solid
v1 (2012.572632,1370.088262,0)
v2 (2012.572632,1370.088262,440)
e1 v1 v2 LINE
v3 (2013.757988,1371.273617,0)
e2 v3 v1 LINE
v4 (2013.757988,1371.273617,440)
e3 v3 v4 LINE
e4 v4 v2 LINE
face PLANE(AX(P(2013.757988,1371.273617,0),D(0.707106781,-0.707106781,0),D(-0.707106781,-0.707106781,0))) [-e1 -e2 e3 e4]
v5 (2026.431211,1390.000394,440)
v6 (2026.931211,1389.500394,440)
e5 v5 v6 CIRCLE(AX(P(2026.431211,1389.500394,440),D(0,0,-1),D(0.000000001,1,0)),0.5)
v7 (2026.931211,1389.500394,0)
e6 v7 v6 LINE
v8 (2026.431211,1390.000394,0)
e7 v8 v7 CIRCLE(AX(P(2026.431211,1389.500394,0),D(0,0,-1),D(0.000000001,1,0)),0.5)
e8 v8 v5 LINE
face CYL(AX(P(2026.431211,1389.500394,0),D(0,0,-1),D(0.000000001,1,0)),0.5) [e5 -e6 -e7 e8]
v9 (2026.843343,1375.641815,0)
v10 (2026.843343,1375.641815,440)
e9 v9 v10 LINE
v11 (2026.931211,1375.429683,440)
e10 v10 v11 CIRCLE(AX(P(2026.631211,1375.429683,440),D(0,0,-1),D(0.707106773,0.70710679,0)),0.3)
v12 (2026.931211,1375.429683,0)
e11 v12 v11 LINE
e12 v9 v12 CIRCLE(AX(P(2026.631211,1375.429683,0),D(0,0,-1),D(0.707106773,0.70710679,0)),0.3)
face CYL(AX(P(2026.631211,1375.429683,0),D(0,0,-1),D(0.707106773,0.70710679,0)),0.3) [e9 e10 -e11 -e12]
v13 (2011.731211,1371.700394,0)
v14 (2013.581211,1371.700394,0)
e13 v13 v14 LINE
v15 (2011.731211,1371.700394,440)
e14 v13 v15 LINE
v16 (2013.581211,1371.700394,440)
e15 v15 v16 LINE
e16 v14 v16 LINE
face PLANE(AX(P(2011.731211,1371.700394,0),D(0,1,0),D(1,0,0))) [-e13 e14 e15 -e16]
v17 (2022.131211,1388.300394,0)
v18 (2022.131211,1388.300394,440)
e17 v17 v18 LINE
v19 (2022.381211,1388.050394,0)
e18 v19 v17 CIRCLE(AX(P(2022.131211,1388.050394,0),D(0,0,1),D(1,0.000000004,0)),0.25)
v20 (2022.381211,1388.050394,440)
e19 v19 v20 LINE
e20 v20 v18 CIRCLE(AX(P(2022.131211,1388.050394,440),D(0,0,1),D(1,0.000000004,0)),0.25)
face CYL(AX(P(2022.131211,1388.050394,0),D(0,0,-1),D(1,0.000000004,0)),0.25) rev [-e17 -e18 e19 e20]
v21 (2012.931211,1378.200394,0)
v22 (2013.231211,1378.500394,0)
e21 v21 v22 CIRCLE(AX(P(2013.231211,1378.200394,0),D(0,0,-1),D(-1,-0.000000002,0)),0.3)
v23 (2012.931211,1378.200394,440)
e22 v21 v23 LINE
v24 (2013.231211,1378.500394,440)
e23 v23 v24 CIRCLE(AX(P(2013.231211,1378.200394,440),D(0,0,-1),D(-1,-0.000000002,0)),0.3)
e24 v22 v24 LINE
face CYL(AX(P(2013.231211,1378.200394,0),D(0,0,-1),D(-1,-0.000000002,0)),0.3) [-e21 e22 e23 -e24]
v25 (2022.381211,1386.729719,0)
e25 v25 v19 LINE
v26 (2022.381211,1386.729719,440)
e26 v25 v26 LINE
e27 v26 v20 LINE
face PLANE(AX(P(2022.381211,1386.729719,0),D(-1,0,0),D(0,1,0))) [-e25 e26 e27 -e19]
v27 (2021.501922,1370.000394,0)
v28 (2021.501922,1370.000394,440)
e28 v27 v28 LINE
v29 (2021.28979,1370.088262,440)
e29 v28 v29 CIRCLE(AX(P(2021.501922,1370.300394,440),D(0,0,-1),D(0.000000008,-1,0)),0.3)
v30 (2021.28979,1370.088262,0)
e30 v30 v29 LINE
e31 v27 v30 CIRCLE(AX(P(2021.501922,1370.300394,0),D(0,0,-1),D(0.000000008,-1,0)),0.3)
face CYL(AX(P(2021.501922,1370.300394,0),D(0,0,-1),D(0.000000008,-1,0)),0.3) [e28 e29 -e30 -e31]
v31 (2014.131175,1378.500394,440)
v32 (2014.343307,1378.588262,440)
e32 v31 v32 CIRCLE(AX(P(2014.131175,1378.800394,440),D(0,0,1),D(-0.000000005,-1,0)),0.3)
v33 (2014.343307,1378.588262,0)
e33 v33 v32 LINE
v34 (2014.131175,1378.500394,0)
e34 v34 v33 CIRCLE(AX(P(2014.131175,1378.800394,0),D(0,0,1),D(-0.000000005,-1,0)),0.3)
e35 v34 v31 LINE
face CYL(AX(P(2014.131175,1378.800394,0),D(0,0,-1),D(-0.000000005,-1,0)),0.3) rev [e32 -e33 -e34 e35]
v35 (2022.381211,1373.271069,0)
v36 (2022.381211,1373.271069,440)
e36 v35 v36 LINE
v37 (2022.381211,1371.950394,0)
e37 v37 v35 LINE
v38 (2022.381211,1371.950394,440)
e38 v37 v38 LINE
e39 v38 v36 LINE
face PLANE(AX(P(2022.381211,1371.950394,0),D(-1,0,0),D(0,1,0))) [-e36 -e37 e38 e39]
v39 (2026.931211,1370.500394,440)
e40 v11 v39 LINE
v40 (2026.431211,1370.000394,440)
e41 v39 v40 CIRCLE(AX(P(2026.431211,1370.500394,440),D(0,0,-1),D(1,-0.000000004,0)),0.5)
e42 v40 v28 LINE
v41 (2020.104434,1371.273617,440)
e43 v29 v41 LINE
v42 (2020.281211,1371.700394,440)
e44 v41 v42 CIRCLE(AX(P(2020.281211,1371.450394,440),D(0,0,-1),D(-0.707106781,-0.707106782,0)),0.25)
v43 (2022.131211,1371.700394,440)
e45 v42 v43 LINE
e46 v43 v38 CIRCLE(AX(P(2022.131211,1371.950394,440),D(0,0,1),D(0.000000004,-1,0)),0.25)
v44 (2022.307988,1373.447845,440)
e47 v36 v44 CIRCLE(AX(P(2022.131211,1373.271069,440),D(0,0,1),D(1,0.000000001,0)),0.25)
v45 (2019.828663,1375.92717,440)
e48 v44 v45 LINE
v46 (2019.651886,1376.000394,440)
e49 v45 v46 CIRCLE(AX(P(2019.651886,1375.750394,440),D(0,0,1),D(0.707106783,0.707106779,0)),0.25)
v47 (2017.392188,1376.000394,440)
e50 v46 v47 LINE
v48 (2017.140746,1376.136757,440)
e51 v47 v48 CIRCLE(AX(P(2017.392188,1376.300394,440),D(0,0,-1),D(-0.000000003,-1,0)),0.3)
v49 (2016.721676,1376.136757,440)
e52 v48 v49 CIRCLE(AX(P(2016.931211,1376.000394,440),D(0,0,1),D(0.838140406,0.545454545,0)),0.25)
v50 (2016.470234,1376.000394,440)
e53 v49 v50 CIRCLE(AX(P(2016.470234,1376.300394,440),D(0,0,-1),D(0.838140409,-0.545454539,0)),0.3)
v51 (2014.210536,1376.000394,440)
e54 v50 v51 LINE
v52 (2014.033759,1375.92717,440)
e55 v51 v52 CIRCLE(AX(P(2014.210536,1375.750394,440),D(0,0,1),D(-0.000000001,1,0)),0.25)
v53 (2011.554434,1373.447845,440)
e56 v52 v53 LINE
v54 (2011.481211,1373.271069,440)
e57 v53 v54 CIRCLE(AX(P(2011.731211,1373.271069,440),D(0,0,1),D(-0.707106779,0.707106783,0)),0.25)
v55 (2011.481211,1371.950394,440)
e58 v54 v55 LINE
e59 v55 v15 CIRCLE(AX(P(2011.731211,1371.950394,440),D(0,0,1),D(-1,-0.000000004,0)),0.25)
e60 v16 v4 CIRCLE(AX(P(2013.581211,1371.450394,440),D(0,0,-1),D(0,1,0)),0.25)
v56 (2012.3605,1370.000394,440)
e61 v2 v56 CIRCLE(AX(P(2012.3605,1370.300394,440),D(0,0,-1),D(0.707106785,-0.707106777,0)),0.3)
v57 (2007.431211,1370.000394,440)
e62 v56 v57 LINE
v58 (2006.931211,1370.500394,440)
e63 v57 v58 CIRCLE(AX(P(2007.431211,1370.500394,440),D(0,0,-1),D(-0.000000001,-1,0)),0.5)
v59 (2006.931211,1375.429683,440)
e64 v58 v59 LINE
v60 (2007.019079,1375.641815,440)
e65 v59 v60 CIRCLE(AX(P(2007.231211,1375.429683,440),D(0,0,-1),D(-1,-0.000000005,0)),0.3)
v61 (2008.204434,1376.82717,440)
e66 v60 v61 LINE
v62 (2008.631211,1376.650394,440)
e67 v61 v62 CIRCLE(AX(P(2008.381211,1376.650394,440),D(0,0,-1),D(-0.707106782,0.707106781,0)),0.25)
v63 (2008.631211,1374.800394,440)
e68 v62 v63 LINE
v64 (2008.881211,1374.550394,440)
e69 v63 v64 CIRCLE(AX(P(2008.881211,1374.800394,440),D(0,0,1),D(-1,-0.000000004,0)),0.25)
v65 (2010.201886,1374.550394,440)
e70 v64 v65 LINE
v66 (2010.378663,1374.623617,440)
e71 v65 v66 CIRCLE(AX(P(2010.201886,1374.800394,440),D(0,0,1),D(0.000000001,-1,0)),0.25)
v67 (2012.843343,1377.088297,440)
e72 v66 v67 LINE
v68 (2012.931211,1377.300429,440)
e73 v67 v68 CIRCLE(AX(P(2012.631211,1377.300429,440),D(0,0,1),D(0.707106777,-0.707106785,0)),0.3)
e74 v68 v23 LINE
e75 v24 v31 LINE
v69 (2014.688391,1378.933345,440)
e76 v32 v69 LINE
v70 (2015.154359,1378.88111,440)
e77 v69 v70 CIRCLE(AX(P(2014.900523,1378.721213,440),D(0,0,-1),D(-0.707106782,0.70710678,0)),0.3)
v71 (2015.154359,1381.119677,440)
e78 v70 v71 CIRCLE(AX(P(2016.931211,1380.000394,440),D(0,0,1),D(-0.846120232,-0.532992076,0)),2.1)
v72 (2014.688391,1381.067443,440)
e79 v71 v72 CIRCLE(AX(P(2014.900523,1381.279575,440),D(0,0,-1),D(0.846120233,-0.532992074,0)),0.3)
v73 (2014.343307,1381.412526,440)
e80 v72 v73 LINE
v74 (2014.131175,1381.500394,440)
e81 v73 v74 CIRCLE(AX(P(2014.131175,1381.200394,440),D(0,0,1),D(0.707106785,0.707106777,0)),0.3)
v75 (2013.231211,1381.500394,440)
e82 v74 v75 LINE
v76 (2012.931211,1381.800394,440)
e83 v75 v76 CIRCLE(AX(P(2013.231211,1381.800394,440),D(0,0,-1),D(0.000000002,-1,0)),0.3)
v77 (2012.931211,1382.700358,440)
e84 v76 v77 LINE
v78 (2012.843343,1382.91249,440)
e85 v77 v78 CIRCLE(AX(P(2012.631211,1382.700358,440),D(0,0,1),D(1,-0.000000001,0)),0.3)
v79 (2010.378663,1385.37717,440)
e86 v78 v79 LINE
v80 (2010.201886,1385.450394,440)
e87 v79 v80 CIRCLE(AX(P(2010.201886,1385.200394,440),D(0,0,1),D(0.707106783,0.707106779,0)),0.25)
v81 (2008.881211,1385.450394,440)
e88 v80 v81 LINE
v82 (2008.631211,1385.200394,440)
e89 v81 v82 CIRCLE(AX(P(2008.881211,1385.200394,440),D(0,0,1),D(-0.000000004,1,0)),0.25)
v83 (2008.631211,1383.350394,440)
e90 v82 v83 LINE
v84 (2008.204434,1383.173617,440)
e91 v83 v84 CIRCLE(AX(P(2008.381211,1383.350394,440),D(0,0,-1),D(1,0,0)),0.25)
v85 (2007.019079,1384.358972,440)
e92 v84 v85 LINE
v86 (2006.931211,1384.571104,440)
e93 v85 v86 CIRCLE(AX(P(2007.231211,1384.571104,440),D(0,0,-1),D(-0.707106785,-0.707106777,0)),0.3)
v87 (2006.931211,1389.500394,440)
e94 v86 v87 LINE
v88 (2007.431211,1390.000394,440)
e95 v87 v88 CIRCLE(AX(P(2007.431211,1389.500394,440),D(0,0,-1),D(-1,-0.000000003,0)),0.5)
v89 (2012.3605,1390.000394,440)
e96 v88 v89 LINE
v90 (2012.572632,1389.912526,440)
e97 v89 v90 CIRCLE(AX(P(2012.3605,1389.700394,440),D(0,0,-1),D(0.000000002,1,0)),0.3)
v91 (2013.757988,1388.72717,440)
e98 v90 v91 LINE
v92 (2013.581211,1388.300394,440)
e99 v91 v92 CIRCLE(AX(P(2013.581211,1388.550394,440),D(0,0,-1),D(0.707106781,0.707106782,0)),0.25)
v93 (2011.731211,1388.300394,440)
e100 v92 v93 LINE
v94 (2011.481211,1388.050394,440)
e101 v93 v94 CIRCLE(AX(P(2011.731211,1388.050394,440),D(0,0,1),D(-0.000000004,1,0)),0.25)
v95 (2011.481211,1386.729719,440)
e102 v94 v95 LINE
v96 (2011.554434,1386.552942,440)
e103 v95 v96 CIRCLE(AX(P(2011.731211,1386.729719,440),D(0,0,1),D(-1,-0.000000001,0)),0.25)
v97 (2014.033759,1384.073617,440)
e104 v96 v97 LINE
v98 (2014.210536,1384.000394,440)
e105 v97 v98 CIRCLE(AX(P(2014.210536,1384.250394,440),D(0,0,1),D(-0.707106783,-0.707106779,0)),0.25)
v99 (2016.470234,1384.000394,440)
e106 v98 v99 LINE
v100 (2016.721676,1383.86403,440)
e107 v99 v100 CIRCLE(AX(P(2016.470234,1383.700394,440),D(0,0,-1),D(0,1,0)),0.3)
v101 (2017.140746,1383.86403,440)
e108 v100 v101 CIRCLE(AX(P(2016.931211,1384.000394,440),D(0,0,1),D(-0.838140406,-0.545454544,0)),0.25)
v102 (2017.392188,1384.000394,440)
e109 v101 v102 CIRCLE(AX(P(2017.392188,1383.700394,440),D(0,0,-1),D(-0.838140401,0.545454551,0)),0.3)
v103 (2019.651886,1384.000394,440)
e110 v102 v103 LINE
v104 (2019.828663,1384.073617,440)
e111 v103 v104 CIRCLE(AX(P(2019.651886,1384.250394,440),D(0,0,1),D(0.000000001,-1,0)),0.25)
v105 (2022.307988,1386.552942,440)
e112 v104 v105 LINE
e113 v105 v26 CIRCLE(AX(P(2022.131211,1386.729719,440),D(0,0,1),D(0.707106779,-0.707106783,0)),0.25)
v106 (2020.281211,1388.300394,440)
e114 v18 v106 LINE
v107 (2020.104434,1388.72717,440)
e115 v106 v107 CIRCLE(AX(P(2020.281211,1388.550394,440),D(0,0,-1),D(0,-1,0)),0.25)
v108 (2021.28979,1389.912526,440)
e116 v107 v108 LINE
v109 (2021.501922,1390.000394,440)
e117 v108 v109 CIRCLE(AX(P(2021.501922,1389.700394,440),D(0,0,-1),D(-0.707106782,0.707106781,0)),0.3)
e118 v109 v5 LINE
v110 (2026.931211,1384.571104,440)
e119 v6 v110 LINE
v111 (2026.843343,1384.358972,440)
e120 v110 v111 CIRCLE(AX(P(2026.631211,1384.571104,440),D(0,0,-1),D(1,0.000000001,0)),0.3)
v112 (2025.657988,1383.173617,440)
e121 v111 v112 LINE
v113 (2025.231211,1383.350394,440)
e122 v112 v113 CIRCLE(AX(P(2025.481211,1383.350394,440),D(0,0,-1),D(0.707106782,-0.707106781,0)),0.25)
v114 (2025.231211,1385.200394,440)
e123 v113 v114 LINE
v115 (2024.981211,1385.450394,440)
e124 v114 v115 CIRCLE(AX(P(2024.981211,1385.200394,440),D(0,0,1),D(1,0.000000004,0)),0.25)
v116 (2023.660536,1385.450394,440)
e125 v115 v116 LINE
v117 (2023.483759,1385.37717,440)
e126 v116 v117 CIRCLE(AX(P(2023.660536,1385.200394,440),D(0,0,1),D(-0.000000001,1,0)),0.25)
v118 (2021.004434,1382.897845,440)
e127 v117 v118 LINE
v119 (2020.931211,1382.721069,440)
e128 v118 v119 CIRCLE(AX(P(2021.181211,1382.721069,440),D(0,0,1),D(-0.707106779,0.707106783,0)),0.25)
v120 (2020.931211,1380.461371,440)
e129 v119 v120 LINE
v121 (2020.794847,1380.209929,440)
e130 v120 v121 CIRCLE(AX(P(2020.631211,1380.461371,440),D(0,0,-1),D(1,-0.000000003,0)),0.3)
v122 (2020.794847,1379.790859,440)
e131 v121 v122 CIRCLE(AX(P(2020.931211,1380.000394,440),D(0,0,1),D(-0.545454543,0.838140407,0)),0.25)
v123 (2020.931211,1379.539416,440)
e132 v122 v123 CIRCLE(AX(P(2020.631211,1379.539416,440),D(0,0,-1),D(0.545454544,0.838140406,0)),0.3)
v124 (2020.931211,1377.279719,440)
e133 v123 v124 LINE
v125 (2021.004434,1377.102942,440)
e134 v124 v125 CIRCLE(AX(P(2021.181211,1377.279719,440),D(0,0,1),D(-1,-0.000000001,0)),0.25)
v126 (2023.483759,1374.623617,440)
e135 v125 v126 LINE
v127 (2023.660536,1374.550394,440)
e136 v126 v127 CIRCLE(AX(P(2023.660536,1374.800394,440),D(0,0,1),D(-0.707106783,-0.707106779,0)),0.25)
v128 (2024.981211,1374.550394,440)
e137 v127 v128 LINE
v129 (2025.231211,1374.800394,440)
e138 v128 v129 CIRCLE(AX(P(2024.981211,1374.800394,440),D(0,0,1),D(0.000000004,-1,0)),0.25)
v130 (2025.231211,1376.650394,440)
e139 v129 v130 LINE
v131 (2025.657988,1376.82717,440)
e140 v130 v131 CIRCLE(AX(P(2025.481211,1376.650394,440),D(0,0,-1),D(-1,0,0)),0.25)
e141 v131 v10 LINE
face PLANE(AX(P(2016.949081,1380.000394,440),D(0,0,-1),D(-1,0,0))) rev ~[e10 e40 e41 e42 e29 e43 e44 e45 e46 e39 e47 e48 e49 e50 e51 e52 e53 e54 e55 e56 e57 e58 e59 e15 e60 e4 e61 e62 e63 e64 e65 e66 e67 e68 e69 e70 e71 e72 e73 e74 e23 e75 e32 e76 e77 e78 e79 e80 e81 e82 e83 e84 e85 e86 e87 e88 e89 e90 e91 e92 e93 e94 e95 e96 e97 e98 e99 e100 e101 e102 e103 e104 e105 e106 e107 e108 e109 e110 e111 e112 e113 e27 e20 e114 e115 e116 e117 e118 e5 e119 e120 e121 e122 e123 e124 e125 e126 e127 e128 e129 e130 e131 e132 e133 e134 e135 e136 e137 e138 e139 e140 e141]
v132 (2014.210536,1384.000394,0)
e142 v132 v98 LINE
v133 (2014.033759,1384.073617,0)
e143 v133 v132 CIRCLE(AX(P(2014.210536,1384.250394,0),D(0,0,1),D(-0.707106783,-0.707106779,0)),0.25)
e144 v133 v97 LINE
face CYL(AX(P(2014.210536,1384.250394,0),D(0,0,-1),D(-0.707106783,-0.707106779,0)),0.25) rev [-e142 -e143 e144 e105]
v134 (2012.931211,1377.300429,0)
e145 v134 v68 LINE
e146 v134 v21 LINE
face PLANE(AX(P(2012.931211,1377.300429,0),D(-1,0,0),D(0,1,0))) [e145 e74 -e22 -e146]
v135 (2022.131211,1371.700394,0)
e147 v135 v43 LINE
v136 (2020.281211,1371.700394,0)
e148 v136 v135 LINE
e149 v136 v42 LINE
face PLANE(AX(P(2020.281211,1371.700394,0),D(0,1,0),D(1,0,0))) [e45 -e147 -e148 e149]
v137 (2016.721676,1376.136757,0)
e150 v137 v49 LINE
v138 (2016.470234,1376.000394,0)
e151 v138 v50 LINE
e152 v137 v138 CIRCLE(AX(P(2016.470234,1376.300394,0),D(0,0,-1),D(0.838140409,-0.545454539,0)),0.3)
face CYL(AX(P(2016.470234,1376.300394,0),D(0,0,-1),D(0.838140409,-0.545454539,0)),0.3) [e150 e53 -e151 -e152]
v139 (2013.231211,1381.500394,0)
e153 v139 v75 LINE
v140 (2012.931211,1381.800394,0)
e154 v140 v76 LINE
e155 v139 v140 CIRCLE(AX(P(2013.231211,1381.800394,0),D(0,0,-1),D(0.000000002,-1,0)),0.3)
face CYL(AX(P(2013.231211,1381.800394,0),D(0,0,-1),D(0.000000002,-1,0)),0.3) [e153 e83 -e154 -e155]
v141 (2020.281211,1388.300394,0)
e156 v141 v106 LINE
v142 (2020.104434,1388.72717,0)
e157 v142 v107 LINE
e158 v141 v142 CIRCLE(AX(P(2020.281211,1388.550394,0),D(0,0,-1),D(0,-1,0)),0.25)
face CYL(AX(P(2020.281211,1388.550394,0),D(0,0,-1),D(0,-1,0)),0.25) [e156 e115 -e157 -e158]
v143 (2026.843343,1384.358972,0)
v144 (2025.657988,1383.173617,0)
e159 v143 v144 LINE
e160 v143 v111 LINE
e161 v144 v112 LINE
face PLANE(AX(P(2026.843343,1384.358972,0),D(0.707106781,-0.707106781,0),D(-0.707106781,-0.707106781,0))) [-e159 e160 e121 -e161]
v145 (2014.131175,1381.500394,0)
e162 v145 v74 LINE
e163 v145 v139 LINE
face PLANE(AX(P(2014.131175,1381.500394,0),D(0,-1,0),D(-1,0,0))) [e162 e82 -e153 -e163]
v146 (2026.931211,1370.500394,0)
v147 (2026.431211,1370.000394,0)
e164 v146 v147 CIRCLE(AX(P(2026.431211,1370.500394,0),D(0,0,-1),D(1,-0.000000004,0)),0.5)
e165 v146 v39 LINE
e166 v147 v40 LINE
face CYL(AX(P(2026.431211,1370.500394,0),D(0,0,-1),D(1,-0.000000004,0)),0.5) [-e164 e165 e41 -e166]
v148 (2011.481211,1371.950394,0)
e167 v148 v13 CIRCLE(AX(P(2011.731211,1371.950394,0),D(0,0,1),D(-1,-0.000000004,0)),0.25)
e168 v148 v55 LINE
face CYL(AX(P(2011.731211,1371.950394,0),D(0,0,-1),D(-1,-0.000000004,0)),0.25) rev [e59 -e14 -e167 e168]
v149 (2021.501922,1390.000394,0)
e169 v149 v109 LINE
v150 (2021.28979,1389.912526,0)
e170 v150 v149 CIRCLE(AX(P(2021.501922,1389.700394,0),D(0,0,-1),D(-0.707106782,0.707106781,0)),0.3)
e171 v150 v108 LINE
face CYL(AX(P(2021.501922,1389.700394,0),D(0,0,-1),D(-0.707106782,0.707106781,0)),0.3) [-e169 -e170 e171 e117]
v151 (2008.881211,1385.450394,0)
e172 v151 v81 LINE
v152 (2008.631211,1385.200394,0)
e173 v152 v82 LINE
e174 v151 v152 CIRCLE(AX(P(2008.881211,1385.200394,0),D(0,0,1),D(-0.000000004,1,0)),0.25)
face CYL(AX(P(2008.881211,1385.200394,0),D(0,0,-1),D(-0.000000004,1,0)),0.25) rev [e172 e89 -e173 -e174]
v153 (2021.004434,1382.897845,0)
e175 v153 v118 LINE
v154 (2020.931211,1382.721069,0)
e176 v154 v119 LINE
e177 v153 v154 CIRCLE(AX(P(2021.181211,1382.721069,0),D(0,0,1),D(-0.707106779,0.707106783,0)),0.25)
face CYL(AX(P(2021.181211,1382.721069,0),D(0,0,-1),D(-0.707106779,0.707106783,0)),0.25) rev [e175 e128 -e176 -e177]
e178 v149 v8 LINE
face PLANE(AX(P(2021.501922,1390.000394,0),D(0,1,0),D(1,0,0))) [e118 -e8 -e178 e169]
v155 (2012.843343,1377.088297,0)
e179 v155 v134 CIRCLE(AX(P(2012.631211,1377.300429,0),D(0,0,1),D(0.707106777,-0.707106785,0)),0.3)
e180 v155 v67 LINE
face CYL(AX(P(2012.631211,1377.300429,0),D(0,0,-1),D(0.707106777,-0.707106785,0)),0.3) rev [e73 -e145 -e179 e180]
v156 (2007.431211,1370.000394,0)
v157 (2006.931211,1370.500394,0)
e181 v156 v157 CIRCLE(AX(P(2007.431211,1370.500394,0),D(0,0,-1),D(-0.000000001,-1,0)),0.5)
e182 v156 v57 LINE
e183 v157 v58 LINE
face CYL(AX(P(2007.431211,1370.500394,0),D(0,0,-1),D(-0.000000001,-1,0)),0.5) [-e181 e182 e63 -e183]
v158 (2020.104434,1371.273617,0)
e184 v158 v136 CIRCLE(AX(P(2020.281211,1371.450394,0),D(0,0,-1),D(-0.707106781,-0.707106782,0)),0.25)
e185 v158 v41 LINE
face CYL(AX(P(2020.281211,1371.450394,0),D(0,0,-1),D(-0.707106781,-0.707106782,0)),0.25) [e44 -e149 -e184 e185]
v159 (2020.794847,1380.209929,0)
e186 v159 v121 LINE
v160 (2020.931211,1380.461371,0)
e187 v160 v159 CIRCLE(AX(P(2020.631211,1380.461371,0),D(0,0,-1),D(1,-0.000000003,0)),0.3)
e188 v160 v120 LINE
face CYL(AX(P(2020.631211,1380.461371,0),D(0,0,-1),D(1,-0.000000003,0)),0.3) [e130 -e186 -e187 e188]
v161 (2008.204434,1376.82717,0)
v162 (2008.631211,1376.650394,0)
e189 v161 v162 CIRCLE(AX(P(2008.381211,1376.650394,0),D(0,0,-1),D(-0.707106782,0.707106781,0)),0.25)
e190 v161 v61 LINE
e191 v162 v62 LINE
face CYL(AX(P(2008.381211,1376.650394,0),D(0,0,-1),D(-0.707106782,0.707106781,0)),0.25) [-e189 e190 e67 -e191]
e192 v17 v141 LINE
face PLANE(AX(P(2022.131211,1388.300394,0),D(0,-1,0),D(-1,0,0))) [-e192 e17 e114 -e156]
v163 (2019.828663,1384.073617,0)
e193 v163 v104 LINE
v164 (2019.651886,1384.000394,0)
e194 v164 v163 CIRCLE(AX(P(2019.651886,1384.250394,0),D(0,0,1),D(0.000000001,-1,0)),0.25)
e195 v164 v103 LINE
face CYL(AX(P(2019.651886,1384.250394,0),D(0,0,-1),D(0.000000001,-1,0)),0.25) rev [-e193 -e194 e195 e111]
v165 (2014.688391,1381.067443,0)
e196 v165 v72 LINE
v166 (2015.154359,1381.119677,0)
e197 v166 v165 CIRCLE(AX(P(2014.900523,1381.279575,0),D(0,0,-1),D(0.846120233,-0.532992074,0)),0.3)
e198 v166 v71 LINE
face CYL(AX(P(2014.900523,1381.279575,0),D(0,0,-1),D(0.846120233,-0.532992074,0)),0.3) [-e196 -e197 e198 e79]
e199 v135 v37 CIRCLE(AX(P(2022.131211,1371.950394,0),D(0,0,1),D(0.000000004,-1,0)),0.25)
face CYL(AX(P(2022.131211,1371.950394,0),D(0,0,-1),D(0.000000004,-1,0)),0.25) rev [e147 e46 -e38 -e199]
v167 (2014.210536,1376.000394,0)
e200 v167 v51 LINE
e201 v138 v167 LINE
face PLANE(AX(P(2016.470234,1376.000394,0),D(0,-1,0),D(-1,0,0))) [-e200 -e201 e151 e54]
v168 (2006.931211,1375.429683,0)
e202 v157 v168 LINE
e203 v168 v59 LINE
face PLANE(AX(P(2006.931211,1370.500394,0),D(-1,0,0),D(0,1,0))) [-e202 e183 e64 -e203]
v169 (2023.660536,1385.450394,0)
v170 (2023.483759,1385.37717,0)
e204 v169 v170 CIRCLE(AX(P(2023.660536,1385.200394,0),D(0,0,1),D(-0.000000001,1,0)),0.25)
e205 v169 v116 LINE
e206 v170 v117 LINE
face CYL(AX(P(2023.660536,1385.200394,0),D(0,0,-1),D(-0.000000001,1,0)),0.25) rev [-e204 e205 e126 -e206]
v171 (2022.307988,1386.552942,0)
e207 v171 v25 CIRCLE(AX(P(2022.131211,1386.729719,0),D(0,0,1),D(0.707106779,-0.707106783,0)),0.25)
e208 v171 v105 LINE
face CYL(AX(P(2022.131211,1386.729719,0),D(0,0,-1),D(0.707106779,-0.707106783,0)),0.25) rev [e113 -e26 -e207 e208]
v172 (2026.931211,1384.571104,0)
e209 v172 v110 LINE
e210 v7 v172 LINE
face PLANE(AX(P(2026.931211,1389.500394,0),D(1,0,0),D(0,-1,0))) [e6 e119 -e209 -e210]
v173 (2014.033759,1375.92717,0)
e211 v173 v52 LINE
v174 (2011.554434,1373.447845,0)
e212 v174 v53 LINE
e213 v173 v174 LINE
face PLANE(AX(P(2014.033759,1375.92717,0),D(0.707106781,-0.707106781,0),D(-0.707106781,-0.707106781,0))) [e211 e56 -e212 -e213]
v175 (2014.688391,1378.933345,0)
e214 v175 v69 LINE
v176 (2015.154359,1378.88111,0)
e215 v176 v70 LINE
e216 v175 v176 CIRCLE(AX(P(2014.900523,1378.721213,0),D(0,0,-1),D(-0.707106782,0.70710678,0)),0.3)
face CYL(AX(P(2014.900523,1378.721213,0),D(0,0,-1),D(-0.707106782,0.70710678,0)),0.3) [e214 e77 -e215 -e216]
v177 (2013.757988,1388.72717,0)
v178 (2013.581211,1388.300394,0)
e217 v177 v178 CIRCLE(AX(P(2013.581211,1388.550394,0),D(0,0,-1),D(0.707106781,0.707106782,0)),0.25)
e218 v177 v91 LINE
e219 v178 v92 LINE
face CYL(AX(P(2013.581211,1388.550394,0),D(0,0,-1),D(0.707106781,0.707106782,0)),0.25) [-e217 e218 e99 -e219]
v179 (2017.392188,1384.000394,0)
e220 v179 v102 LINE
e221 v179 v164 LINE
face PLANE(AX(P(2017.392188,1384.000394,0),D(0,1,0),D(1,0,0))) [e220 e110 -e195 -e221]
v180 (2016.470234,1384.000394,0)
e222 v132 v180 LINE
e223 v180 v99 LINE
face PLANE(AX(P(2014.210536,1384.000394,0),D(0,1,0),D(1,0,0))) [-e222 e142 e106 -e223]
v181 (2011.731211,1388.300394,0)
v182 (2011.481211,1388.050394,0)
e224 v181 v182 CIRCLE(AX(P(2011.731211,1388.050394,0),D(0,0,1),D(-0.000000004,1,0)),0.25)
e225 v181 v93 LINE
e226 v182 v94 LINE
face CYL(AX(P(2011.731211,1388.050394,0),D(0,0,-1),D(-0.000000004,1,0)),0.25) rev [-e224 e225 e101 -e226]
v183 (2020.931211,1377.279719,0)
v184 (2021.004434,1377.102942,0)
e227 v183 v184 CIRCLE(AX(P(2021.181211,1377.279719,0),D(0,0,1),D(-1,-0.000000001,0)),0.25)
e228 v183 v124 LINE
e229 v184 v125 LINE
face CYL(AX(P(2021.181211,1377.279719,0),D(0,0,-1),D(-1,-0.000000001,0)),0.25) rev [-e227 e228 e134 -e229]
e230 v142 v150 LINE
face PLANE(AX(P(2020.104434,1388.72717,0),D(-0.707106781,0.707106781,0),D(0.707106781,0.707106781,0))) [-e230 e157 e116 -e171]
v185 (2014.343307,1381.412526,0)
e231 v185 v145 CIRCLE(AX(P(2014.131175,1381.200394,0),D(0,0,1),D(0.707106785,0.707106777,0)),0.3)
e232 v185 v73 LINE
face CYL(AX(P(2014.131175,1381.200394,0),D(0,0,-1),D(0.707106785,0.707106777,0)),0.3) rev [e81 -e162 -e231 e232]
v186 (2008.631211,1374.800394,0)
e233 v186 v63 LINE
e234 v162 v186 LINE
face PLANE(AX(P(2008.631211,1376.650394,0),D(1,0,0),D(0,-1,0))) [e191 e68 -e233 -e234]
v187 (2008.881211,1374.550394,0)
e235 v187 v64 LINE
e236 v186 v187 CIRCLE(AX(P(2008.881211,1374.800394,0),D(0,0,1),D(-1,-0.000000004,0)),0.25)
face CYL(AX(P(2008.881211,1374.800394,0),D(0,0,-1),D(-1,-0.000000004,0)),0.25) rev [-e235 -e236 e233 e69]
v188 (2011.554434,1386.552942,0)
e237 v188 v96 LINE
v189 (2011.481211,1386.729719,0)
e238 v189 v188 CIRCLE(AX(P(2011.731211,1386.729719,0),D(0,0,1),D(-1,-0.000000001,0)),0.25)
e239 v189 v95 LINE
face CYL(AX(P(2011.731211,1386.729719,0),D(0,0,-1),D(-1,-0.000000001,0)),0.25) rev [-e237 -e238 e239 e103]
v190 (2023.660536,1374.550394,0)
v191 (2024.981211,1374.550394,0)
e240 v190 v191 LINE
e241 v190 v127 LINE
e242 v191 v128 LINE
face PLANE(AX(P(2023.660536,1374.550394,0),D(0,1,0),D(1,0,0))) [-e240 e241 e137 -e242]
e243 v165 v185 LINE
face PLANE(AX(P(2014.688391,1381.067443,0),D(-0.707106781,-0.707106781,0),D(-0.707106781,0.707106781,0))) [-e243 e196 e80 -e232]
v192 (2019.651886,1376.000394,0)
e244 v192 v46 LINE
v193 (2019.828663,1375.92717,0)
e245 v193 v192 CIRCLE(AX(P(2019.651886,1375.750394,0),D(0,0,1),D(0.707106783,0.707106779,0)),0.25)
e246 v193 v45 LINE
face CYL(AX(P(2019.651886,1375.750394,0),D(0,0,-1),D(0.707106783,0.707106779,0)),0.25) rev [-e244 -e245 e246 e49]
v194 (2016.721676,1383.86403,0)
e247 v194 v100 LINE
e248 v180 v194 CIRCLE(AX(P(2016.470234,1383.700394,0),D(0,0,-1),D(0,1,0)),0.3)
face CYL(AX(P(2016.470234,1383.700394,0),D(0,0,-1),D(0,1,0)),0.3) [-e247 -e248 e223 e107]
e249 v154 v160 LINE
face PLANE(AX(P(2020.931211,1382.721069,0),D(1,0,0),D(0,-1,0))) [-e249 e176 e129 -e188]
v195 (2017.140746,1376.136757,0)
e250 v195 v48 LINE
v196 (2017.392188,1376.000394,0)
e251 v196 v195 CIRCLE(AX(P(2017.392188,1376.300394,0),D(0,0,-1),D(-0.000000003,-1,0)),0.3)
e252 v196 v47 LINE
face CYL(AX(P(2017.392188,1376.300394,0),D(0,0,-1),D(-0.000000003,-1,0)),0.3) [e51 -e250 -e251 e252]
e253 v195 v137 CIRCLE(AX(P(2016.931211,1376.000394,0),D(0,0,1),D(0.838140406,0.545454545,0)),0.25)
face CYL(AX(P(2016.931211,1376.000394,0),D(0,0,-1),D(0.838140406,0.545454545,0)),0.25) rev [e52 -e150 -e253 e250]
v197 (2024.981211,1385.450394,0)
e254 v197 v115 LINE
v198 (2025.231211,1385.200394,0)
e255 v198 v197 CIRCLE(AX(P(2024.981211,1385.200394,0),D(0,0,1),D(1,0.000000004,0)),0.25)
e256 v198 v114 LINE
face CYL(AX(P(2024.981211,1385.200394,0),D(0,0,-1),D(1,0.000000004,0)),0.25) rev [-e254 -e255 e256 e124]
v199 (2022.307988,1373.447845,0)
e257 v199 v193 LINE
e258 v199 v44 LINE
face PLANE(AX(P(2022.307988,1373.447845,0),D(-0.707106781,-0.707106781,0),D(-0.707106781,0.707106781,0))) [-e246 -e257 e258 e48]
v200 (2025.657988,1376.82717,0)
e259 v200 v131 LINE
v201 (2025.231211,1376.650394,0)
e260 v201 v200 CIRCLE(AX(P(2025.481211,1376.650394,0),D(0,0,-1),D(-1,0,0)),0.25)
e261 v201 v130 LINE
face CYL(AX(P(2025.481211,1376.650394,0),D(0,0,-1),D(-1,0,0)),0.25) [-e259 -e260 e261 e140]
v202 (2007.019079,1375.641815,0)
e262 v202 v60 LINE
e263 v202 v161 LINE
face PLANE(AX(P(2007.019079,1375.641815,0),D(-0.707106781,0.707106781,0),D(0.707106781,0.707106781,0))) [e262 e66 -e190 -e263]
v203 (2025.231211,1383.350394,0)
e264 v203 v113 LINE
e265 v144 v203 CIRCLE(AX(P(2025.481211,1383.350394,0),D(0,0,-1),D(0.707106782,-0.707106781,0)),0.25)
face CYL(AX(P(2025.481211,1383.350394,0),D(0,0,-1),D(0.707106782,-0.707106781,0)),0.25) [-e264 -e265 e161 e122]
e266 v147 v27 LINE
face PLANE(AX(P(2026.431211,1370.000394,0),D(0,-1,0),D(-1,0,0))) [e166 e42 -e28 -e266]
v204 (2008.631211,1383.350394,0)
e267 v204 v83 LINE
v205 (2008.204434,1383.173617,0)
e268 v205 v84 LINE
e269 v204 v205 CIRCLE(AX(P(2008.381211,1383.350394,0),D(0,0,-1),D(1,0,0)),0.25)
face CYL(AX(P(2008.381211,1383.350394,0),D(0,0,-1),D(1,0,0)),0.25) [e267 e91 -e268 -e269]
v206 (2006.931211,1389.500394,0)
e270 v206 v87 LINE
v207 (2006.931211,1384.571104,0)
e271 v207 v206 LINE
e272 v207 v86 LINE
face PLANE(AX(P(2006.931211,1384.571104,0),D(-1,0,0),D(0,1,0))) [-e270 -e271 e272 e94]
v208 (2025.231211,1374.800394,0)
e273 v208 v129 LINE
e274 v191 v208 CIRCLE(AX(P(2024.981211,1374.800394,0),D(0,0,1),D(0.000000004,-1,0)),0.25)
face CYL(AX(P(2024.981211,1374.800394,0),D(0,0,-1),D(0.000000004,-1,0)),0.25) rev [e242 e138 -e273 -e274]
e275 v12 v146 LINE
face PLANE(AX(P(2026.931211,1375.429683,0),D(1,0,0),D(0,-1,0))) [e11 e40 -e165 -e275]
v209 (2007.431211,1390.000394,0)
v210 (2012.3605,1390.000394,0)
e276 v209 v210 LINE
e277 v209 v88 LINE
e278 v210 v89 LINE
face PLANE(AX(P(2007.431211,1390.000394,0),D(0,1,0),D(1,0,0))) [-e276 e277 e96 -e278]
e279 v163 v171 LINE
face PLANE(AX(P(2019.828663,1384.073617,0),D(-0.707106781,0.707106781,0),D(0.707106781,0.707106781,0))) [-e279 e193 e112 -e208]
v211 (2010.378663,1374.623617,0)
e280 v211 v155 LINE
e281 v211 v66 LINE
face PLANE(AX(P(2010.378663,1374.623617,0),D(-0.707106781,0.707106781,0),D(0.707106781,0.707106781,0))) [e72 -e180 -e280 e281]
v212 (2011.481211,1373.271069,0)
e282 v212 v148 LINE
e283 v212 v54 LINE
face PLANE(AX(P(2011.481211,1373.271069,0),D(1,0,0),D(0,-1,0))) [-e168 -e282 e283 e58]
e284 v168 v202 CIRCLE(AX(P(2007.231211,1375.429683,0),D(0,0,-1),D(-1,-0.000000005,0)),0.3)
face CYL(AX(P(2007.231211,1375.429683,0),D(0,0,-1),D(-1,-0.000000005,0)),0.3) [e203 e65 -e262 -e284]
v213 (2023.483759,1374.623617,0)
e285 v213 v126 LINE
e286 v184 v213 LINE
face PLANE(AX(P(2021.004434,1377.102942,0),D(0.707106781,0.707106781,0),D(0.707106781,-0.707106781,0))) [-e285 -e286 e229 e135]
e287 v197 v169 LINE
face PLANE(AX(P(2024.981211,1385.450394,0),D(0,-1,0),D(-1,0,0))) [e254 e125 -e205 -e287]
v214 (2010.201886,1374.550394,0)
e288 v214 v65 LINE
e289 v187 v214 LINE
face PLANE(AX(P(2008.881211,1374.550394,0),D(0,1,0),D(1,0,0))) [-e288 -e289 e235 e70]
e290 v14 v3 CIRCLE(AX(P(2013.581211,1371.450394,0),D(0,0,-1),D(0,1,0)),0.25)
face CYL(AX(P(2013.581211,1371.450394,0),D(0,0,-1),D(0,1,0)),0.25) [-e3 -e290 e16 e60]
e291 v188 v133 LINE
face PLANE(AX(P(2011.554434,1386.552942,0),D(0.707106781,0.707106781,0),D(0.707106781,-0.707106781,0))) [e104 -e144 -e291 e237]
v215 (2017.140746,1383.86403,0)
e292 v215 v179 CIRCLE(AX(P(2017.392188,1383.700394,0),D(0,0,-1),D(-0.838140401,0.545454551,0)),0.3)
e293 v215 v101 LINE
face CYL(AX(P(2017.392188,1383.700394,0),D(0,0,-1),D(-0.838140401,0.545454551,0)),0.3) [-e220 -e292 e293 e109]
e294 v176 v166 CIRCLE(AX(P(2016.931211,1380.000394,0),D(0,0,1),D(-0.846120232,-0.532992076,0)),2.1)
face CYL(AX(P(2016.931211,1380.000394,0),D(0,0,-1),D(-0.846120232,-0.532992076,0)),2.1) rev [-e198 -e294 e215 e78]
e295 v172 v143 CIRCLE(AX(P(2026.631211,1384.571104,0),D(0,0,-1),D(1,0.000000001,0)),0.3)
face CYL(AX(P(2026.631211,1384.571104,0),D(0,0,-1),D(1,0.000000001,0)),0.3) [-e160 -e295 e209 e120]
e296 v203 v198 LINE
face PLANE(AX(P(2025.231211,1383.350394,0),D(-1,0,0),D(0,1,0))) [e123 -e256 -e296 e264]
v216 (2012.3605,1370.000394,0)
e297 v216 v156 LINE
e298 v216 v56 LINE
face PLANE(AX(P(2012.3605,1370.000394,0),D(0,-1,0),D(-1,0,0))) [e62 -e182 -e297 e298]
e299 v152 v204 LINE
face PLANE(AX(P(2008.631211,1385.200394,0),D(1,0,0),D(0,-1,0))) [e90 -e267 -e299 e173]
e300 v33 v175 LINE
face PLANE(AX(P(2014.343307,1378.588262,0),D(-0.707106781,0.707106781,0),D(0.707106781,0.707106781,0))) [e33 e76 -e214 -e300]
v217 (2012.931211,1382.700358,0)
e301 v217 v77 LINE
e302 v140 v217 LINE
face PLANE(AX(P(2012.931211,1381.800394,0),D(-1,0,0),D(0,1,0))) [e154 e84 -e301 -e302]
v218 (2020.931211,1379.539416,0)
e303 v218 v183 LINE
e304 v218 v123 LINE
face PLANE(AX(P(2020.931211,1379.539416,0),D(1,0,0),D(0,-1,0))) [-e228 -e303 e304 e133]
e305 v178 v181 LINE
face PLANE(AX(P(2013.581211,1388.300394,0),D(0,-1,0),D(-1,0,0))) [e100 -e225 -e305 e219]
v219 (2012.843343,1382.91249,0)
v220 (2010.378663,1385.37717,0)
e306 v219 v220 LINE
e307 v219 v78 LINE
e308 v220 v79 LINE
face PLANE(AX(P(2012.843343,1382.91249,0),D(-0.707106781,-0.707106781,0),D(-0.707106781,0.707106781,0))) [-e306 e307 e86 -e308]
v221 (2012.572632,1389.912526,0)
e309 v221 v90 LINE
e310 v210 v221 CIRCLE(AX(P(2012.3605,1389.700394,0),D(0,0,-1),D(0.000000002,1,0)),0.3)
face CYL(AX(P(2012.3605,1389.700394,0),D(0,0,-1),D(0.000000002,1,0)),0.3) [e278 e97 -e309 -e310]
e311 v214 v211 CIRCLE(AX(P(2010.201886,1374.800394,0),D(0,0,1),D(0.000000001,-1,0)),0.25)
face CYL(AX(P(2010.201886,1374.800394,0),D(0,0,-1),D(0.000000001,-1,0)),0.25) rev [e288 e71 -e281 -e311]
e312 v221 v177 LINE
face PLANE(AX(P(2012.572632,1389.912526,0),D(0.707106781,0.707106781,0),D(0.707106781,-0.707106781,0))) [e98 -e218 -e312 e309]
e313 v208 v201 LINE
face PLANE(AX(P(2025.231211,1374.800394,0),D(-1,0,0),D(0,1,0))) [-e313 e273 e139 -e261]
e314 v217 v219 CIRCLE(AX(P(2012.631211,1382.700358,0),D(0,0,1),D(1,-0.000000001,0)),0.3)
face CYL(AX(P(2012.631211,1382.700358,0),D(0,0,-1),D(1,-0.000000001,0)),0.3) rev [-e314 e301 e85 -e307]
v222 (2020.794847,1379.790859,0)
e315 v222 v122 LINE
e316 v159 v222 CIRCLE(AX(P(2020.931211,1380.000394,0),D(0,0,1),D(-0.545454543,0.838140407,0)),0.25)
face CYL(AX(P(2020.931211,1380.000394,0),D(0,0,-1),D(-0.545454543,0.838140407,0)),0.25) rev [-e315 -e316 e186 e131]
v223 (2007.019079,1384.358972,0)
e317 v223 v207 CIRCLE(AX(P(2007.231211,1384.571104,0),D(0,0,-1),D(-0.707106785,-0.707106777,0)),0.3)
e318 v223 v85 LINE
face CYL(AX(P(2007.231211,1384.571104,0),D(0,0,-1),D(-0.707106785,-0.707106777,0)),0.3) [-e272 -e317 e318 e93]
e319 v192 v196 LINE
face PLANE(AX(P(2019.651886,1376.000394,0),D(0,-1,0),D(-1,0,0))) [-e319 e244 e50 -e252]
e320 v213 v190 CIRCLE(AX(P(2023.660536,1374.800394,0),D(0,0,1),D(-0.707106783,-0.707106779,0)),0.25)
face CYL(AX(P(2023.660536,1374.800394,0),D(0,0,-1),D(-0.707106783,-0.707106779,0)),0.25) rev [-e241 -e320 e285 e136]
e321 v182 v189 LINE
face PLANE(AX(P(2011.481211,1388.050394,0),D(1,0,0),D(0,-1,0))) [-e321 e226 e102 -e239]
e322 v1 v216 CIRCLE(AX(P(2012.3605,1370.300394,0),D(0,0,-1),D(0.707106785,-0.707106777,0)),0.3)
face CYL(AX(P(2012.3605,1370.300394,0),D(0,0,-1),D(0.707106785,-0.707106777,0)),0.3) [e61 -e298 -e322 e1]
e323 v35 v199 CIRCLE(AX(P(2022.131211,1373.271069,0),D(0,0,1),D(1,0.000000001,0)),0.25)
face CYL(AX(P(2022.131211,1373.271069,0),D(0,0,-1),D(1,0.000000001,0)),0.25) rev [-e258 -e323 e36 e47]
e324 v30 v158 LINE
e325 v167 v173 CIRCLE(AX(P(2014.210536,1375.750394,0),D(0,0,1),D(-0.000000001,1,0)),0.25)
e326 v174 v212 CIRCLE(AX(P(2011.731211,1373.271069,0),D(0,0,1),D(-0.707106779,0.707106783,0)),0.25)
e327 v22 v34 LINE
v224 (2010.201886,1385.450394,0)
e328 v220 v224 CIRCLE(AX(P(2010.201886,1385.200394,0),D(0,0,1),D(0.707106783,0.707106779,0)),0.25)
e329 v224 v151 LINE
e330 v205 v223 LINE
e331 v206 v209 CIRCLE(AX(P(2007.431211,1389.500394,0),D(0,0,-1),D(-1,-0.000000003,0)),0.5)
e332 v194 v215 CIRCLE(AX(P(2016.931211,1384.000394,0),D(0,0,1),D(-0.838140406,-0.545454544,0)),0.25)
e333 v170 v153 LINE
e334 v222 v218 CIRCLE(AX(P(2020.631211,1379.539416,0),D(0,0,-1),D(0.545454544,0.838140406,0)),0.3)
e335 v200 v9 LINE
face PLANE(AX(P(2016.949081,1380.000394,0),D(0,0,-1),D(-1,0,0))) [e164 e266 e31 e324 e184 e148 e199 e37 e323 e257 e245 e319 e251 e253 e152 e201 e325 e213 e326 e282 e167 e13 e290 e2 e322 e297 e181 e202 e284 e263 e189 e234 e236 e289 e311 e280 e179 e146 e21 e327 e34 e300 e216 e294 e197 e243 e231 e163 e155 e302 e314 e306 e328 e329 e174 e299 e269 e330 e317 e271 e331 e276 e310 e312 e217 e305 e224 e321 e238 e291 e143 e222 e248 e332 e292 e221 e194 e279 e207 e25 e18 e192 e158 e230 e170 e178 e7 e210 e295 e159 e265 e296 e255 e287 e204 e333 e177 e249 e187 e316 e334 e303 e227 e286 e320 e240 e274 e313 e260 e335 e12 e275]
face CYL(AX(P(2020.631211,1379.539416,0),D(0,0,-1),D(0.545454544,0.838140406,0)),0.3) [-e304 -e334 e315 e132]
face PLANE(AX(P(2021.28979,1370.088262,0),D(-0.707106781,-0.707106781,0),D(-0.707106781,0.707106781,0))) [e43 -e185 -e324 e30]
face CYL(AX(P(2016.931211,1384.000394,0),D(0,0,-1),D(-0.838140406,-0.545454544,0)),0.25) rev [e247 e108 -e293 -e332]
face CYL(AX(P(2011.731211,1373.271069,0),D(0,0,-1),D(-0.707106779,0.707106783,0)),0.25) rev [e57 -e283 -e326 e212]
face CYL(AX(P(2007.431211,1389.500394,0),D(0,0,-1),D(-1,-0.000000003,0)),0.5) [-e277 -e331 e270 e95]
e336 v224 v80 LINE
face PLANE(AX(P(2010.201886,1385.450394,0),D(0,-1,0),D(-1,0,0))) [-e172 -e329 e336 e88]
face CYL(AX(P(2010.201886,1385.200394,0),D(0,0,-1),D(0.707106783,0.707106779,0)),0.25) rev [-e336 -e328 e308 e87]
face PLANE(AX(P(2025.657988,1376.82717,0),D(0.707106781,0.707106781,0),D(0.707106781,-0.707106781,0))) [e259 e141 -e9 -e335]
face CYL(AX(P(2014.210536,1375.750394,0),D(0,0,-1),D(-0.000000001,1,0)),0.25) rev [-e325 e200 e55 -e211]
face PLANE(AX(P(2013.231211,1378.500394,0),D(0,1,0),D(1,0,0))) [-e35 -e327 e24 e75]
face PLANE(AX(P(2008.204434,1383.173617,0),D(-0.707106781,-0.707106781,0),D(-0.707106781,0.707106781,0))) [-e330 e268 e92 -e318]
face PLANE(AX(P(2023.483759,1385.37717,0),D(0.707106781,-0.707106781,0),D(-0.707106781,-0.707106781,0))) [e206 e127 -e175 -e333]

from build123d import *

# Parameters (mm, degrees)
BOSS_EXTRUDE1_DEPTH = 440


with BuildPart() as part:
    # Model → Boss-Extrude1 (new body)
    with BuildSketch(Plane.XY):
        with BuildLine():
            Line((2013.231211125, 1378.500393717), (2014.131175411, 1378.500393717))
            ThreePointArc((2014.131175411, 1378.500393717), (2014.245980441, 1378.523229857), (2014.343307446, 1378.588261683))
            Line((2014.343307446, 1378.588261683), (2014.688390533, 1378.93334477))
            ThreePointArc((2014.688390533, 1378.93334477), (2014.933942847, 1379.019345399), (2015.154358637, 1378.881110358))
            ThreePointArc((2015.154358637, 1378.881110358), (2019.031211125, 1380.000393717), (2015.154358637, 1381.119677076))
            ThreePointArc((2015.154358637, 1381.119677076), (2014.933942847, 1380.981442035), (2014.688390533, 1381.067442664))
            Line((2014.688390533, 1381.067442664), (2014.343307446, 1381.412525751))
            ThreePointArc((2014.343307446, 1381.412525751), (2014.245980441, 1381.477557577), (2014.131175412, 1381.500393717))
            Line((2014.131175412, 1381.500393717), (2013.231211125, 1381.500393717))
            ThreePointArc((2013.231211125, 1381.500393717), (2013.01907909, 1381.588261683), (2012.931211125, 1381.800393717))
            Line((2012.931211125, 1381.800393717), (2012.931211125, 1382.700358004))
            ThreePointArc((2012.931211125, 1382.700358004), (2012.908374985, 1382.815163033), (2012.843343159, 1382.912490038))
            Line((2012.843343159, 1382.912490038), (2010.378662785, 1385.377170412))
            ThreePointArc((2010.378662785, 1385.377170412), (2010.297556948, 1385.4313636), (2010.20188609, 1385.450393717))
            Line((2010.20188609, 1385.450393717), (2008.881211125, 1385.450393717))
            ThreePointArc((2008.881211125, 1385.450393717), (2008.70443443, 1385.377170412), (2008.631211125, 1385.200393717))
            Line((2008.631211125, 1385.200393717), (2008.631211125, 1383.350393717))
            ThreePointArc((2008.631211125, 1383.350393717), (2008.476881983, 1383.119423834), (2008.20443443, 1383.173617022))
            Line((2008.20443443, 1383.173617022), (2007.01907909, 1384.358972361))
            ThreePointArc((2007.01907909, 1384.358972361), (2006.954047265, 1384.456299366), (2006.931211125, 1384.571104395))
            Line((2006.931211125, 1384.571104395), (2006.931211125, 1389.500393717))
            ThreePointArc((2006.931211125, 1389.500393717), (2007.077657734, 1389.853947108), (2007.431211125, 1390.000393717))
            Line((2007.431211125, 1390.000393717), (2012.360500447, 1390.000393717))
            ThreePointArc((2012.360500447, 1390.000393717), (2012.475305476, 1389.977557577), (2012.572632481, 1389.912525752))
            Line((2012.572632481, 1389.912525752), (2013.75798782, 1388.727170412))
            ThreePointArc((2013.75798782, 1388.727170412), (2013.812181008, 1388.454722859), (2013.581211125, 1388.300393717))
            Line((2013.581211125, 1388.300393717), (2011.731211125, 1388.300393717))
            ThreePointArc((2011.731211125, 1388.300393717), (2011.55443443, 1388.227170412), (2011.481211125, 1388.050393717))
            Line((2011.481211125, 1388.050393717), (2011.481211125, 1386.729718752))
            ThreePointArc((2011.481211125, 1386.729718752), (2011.500241242, 1386.634047894), (2011.55443443, 1386.552942057))
            Line((2011.55443443, 1386.552942057), (2014.033759465, 1384.073617022))
            ThreePointArc((2014.033759465, 1384.073617022), (2014.114865302, 1384.019423834), (2014.21053616, 1384.000393717))
            Line((2014.21053616, 1384.000393717), (2016.470233902, 1384.000393717))
            ThreePointArc((2016.470233902, 1384.000393717), (2016.61325329, 1383.964108439), (2016.721676023, 1383.864030081))
            ThreePointArc((2016.721676023, 1383.864030081), (2016.931211125, 1383.750393717), (2017.140746226, 1383.864030081))
            ThreePointArc((2017.140746226, 1383.864030081), (2017.24916896, 1383.964108439), (2017.392188348, 1384.000393717))
            Line((2017.392188348, 1384.000393717), (2019.65188609, 1384.000393717))
            ThreePointArc((2019.65188609, 1384.000393717), (2019.747556948, 1384.019423834), (2019.828662785, 1384.073617022))
            Line((2019.828662785, 1384.073617022), (2022.30798782, 1386.552942057))
            ThreePointArc((2022.30798782, 1386.552942057), (2022.362181008, 1386.634047894), (2022.381211125, 1386.729718752))
            Line((2022.381211125, 1386.729718752), (2022.381211125, 1388.050393717))
            ThreePointArc((2022.381211125, 1388.050393717), (2022.30798782, 1388.227170412), (2022.131211125, 1388.300393717))
            Line((2022.131211125, 1388.300393717), (2020.281211125, 1388.300393717))
            ThreePointArc((2020.281211125, 1388.300393717), (2020.050241242, 1388.454722859), (2020.10443443, 1388.727170412))
            Line((2020.10443443, 1388.727170412), (2021.289789769, 1389.912525752))
            ThreePointArc((2021.289789769, 1389.912525752), (2021.387116773, 1389.977557577), (2021.501921803, 1390.000393717))
            Line((2021.501921803, 1390.000393717), (2026.431211125, 1390.000393717))
            ThreePointArc((2026.431211125, 1390.000393717), (2026.784764515, 1389.853947108), (2026.931211125, 1389.500393717))
            Line((2026.931211125, 1389.500393717), (2026.931211125, 1384.571104395))
            ThreePointArc((2026.931211125, 1384.571104395), (2026.908374985, 1384.456299366), (2026.843343159, 1384.358972361))
            Line((2026.843343159, 1384.358972361), (2025.65798782, 1383.173617022))
            ThreePointArc((2025.65798782, 1383.173617022), (2025.385540267, 1383.119423834), (2025.231211125, 1383.350393717))
            Line((2025.231211125, 1383.350393717), (2025.231211125, 1385.200393717))
            ThreePointArc((2025.231211125, 1385.200393717), (2025.15798782, 1385.377170412), (2024.981211125, 1385.450393717))
            Line((2024.981211125, 1385.450393717), (2023.66053616, 1385.450393717))
            ThreePointArc((2023.66053616, 1385.450393717), (2023.564865302, 1385.4313636), (2023.483759465, 1385.377170412))
            Line((2023.483759465, 1385.377170412), (2021.00443443, 1382.897845377))
            ThreePointArc((2021.00443443, 1382.897845377), (2020.950241242, 1382.81673954), (2020.931211125, 1382.721068682))
            Line((2020.931211125, 1382.721068682), (2020.931211125, 1380.46137094))
            ThreePointArc((2020.931211125, 1380.46137094), (2020.894925847, 1380.318351552), (2020.794847489, 1380.209928818))
            ThreePointArc((2020.794847489, 1380.209928818), (2020.681211125, 1380.000393717), (2020.794847488, 1379.790858616))
            ThreePointArc((2020.794847488, 1379.790858616), (2020.894925847, 1379.682435882), (2020.931211125, 1379.539416494))
            Line((2020.931211125, 1379.539416494), (2020.931211125, 1377.279718752))
            ThreePointArc((2020.931211125, 1377.279718752), (2020.950241242, 1377.184047894), (2021.00443443, 1377.102942057))
            Line((2021.00443443, 1377.102942057), (2023.483759465, 1374.623617022))
            ThreePointArc((2023.483759465, 1374.623617022), (2023.564865302, 1374.569423834), (2023.66053616, 1374.550393717))
            Line((2023.66053616, 1374.550393717), (2024.981211125, 1374.550393717))
            ThreePointArc((2024.981211125, 1374.550393717), (2025.15798782, 1374.623617022), (2025.231211125, 1374.800393717))
            Line((2025.231211125, 1374.800393717), (2025.231211125, 1376.650393717))
            ThreePointArc((2025.231211125, 1376.650393717), (2025.385540267, 1376.8813636), (2025.65798782, 1376.827170412))
            Line((2025.65798782, 1376.827170412), (2026.843343159, 1375.641815073))
            ThreePointArc((2026.843343159, 1375.641815073), (2026.908374985, 1375.544488069), (2026.931211125, 1375.429683039))
            Line((2026.931211125, 1375.429683039), (2026.931211125, 1370.500393717))
            ThreePointArc((2026.931211125, 1370.500393717), (2026.784764515, 1370.146840327), (2026.431211125, 1370.000393717))
            Line((2026.431211125, 1370.000393717), (2021.501921803, 1370.000393717))
            ThreePointArc((2021.501921803, 1370.000393717), (2021.387116773, 1370.023229857), (2021.289789769, 1370.088261683))
            Line((2021.289789769, 1370.088261683), (2020.10443443, 1371.273617022))
            ThreePointArc((2020.10443443, 1371.273617022), (2020.050241242, 1371.546064575), (2020.281211125, 1371.700393717))
            Line((2020.281211125, 1371.700393717), (2022.131211125, 1371.700393717))
            ThreePointArc((2022.131211125, 1371.700393717), (2022.30798782, 1371.773617022), (2022.381211125, 1371.950393717))
            Line((2022.381211125, 1371.950393717), (2022.381211125, 1373.271068682))
            ThreePointArc((2022.381211125, 1373.271068682), (2022.362181008, 1373.36673954), (2022.30798782, 1373.447845377))
            Line((2022.30798782, 1373.447845377), (2019.828662785, 1375.927170412))
            ThreePointArc((2019.828662785, 1375.927170412), (2019.747556948, 1375.9813636), (2019.65188609, 1376.000393717))
            Line((2019.65188609, 1376.000393717), (2017.392188348, 1376.000393717))
            ThreePointArc((2017.392188348, 1376.000393717), (2017.24916896, 1376.036678995), (2017.140746226, 1376.136757353))
            ThreePointArc((2017.140746226, 1376.136757353), (2016.931211125, 1376.250393717), (2016.721676023, 1376.136757354))
            ThreePointArc((2016.721676023, 1376.136757354), (2016.61325329, 1376.036678995), (2016.470233902, 1376.000393717))
            Line((2016.470233902, 1376.000393717), (2014.21053616, 1376.000393717))
            ThreePointArc((2014.21053616, 1376.000393717), (2014.114865302, 1375.9813636), (2014.033759465, 1375.927170412))
            Line((2014.033759465, 1375.927170412), (2011.55443443, 1373.447845377))
            ThreePointArc((2011.55443443, 1373.447845377), (2011.500241242, 1373.36673954), (2011.481211125, 1373.271068682))
            Line((2011.481211125, 1373.271068682), (2011.481211125, 1371.950393717))
            ThreePointArc((2011.481211125, 1371.950393717), (2011.55443443, 1371.773617022), (2011.731211125, 1371.700393717))
            Line((2011.731211125, 1371.700393717), (2013.581211125, 1371.700393717))
            ThreePointArc((2013.581211125, 1371.700393717), (2013.812181008, 1371.546064575), (2013.75798782, 1371.273617022))
            Line((2013.75798782, 1371.273617022), (2012.572632481, 1370.088261683))
            ThreePointArc((2012.572632481, 1370.088261683), (2012.475305476, 1370.023229857), (2012.360500447, 1370.000393717))
            Line((2012.360500447, 1370.000393717), (2007.431211125, 1370.000393717))
            ThreePointArc((2007.431211125, 1370.000393717), (2007.077657734, 1370.146840327), (2006.931211125, 1370.500393717))
            Line((2006.931211125, 1370.500393717), (2006.931211125, 1375.429683039))
            ThreePointArc((2006.931211125, 1375.429683039), (2006.954047265, 1375.544488069), (2007.01907909, 1375.641815073))
            Line((2007.01907909, 1375.641815073), (2008.20443443, 1376.827170412))
            ThreePointArc((2008.20443443, 1376.827170412), (2008.476881983, 1376.8813636), (2008.631211125, 1376.650393717))
            Line((2008.631211125, 1376.650393717), (2008.631211125, 1374.800393717))
            ThreePointArc((2008.631211125, 1374.800393717), (2008.70443443, 1374.623617022), (2008.881211125, 1374.550393717))
            Line((2008.881211125, 1374.550393717), (2010.20188609, 1374.550393717))
            ThreePointArc((2010.20188609, 1374.550393717), (2010.297556948, 1374.569423834), (2010.378662785, 1374.623617022))
            Line((2010.378662785, 1374.623617022), (2012.843343159, 1377.088297396))
            ThreePointArc((2012.843343159, 1377.088297396), (2012.908374985, 1377.185624401), (2012.931211125, 1377.300429431))
            Line((2012.931211125, 1377.300429431), (2012.931211125, 1378.200393717))
            ThreePointArc((2012.931211125, 1378.200393717), (2013.01907909, 1378.412525751), (2013.231211125, 1378.500393717))
        make_face()
    extrude(amount=BOSS_EXTRUDE1_DEPTH)


solid = part.part
